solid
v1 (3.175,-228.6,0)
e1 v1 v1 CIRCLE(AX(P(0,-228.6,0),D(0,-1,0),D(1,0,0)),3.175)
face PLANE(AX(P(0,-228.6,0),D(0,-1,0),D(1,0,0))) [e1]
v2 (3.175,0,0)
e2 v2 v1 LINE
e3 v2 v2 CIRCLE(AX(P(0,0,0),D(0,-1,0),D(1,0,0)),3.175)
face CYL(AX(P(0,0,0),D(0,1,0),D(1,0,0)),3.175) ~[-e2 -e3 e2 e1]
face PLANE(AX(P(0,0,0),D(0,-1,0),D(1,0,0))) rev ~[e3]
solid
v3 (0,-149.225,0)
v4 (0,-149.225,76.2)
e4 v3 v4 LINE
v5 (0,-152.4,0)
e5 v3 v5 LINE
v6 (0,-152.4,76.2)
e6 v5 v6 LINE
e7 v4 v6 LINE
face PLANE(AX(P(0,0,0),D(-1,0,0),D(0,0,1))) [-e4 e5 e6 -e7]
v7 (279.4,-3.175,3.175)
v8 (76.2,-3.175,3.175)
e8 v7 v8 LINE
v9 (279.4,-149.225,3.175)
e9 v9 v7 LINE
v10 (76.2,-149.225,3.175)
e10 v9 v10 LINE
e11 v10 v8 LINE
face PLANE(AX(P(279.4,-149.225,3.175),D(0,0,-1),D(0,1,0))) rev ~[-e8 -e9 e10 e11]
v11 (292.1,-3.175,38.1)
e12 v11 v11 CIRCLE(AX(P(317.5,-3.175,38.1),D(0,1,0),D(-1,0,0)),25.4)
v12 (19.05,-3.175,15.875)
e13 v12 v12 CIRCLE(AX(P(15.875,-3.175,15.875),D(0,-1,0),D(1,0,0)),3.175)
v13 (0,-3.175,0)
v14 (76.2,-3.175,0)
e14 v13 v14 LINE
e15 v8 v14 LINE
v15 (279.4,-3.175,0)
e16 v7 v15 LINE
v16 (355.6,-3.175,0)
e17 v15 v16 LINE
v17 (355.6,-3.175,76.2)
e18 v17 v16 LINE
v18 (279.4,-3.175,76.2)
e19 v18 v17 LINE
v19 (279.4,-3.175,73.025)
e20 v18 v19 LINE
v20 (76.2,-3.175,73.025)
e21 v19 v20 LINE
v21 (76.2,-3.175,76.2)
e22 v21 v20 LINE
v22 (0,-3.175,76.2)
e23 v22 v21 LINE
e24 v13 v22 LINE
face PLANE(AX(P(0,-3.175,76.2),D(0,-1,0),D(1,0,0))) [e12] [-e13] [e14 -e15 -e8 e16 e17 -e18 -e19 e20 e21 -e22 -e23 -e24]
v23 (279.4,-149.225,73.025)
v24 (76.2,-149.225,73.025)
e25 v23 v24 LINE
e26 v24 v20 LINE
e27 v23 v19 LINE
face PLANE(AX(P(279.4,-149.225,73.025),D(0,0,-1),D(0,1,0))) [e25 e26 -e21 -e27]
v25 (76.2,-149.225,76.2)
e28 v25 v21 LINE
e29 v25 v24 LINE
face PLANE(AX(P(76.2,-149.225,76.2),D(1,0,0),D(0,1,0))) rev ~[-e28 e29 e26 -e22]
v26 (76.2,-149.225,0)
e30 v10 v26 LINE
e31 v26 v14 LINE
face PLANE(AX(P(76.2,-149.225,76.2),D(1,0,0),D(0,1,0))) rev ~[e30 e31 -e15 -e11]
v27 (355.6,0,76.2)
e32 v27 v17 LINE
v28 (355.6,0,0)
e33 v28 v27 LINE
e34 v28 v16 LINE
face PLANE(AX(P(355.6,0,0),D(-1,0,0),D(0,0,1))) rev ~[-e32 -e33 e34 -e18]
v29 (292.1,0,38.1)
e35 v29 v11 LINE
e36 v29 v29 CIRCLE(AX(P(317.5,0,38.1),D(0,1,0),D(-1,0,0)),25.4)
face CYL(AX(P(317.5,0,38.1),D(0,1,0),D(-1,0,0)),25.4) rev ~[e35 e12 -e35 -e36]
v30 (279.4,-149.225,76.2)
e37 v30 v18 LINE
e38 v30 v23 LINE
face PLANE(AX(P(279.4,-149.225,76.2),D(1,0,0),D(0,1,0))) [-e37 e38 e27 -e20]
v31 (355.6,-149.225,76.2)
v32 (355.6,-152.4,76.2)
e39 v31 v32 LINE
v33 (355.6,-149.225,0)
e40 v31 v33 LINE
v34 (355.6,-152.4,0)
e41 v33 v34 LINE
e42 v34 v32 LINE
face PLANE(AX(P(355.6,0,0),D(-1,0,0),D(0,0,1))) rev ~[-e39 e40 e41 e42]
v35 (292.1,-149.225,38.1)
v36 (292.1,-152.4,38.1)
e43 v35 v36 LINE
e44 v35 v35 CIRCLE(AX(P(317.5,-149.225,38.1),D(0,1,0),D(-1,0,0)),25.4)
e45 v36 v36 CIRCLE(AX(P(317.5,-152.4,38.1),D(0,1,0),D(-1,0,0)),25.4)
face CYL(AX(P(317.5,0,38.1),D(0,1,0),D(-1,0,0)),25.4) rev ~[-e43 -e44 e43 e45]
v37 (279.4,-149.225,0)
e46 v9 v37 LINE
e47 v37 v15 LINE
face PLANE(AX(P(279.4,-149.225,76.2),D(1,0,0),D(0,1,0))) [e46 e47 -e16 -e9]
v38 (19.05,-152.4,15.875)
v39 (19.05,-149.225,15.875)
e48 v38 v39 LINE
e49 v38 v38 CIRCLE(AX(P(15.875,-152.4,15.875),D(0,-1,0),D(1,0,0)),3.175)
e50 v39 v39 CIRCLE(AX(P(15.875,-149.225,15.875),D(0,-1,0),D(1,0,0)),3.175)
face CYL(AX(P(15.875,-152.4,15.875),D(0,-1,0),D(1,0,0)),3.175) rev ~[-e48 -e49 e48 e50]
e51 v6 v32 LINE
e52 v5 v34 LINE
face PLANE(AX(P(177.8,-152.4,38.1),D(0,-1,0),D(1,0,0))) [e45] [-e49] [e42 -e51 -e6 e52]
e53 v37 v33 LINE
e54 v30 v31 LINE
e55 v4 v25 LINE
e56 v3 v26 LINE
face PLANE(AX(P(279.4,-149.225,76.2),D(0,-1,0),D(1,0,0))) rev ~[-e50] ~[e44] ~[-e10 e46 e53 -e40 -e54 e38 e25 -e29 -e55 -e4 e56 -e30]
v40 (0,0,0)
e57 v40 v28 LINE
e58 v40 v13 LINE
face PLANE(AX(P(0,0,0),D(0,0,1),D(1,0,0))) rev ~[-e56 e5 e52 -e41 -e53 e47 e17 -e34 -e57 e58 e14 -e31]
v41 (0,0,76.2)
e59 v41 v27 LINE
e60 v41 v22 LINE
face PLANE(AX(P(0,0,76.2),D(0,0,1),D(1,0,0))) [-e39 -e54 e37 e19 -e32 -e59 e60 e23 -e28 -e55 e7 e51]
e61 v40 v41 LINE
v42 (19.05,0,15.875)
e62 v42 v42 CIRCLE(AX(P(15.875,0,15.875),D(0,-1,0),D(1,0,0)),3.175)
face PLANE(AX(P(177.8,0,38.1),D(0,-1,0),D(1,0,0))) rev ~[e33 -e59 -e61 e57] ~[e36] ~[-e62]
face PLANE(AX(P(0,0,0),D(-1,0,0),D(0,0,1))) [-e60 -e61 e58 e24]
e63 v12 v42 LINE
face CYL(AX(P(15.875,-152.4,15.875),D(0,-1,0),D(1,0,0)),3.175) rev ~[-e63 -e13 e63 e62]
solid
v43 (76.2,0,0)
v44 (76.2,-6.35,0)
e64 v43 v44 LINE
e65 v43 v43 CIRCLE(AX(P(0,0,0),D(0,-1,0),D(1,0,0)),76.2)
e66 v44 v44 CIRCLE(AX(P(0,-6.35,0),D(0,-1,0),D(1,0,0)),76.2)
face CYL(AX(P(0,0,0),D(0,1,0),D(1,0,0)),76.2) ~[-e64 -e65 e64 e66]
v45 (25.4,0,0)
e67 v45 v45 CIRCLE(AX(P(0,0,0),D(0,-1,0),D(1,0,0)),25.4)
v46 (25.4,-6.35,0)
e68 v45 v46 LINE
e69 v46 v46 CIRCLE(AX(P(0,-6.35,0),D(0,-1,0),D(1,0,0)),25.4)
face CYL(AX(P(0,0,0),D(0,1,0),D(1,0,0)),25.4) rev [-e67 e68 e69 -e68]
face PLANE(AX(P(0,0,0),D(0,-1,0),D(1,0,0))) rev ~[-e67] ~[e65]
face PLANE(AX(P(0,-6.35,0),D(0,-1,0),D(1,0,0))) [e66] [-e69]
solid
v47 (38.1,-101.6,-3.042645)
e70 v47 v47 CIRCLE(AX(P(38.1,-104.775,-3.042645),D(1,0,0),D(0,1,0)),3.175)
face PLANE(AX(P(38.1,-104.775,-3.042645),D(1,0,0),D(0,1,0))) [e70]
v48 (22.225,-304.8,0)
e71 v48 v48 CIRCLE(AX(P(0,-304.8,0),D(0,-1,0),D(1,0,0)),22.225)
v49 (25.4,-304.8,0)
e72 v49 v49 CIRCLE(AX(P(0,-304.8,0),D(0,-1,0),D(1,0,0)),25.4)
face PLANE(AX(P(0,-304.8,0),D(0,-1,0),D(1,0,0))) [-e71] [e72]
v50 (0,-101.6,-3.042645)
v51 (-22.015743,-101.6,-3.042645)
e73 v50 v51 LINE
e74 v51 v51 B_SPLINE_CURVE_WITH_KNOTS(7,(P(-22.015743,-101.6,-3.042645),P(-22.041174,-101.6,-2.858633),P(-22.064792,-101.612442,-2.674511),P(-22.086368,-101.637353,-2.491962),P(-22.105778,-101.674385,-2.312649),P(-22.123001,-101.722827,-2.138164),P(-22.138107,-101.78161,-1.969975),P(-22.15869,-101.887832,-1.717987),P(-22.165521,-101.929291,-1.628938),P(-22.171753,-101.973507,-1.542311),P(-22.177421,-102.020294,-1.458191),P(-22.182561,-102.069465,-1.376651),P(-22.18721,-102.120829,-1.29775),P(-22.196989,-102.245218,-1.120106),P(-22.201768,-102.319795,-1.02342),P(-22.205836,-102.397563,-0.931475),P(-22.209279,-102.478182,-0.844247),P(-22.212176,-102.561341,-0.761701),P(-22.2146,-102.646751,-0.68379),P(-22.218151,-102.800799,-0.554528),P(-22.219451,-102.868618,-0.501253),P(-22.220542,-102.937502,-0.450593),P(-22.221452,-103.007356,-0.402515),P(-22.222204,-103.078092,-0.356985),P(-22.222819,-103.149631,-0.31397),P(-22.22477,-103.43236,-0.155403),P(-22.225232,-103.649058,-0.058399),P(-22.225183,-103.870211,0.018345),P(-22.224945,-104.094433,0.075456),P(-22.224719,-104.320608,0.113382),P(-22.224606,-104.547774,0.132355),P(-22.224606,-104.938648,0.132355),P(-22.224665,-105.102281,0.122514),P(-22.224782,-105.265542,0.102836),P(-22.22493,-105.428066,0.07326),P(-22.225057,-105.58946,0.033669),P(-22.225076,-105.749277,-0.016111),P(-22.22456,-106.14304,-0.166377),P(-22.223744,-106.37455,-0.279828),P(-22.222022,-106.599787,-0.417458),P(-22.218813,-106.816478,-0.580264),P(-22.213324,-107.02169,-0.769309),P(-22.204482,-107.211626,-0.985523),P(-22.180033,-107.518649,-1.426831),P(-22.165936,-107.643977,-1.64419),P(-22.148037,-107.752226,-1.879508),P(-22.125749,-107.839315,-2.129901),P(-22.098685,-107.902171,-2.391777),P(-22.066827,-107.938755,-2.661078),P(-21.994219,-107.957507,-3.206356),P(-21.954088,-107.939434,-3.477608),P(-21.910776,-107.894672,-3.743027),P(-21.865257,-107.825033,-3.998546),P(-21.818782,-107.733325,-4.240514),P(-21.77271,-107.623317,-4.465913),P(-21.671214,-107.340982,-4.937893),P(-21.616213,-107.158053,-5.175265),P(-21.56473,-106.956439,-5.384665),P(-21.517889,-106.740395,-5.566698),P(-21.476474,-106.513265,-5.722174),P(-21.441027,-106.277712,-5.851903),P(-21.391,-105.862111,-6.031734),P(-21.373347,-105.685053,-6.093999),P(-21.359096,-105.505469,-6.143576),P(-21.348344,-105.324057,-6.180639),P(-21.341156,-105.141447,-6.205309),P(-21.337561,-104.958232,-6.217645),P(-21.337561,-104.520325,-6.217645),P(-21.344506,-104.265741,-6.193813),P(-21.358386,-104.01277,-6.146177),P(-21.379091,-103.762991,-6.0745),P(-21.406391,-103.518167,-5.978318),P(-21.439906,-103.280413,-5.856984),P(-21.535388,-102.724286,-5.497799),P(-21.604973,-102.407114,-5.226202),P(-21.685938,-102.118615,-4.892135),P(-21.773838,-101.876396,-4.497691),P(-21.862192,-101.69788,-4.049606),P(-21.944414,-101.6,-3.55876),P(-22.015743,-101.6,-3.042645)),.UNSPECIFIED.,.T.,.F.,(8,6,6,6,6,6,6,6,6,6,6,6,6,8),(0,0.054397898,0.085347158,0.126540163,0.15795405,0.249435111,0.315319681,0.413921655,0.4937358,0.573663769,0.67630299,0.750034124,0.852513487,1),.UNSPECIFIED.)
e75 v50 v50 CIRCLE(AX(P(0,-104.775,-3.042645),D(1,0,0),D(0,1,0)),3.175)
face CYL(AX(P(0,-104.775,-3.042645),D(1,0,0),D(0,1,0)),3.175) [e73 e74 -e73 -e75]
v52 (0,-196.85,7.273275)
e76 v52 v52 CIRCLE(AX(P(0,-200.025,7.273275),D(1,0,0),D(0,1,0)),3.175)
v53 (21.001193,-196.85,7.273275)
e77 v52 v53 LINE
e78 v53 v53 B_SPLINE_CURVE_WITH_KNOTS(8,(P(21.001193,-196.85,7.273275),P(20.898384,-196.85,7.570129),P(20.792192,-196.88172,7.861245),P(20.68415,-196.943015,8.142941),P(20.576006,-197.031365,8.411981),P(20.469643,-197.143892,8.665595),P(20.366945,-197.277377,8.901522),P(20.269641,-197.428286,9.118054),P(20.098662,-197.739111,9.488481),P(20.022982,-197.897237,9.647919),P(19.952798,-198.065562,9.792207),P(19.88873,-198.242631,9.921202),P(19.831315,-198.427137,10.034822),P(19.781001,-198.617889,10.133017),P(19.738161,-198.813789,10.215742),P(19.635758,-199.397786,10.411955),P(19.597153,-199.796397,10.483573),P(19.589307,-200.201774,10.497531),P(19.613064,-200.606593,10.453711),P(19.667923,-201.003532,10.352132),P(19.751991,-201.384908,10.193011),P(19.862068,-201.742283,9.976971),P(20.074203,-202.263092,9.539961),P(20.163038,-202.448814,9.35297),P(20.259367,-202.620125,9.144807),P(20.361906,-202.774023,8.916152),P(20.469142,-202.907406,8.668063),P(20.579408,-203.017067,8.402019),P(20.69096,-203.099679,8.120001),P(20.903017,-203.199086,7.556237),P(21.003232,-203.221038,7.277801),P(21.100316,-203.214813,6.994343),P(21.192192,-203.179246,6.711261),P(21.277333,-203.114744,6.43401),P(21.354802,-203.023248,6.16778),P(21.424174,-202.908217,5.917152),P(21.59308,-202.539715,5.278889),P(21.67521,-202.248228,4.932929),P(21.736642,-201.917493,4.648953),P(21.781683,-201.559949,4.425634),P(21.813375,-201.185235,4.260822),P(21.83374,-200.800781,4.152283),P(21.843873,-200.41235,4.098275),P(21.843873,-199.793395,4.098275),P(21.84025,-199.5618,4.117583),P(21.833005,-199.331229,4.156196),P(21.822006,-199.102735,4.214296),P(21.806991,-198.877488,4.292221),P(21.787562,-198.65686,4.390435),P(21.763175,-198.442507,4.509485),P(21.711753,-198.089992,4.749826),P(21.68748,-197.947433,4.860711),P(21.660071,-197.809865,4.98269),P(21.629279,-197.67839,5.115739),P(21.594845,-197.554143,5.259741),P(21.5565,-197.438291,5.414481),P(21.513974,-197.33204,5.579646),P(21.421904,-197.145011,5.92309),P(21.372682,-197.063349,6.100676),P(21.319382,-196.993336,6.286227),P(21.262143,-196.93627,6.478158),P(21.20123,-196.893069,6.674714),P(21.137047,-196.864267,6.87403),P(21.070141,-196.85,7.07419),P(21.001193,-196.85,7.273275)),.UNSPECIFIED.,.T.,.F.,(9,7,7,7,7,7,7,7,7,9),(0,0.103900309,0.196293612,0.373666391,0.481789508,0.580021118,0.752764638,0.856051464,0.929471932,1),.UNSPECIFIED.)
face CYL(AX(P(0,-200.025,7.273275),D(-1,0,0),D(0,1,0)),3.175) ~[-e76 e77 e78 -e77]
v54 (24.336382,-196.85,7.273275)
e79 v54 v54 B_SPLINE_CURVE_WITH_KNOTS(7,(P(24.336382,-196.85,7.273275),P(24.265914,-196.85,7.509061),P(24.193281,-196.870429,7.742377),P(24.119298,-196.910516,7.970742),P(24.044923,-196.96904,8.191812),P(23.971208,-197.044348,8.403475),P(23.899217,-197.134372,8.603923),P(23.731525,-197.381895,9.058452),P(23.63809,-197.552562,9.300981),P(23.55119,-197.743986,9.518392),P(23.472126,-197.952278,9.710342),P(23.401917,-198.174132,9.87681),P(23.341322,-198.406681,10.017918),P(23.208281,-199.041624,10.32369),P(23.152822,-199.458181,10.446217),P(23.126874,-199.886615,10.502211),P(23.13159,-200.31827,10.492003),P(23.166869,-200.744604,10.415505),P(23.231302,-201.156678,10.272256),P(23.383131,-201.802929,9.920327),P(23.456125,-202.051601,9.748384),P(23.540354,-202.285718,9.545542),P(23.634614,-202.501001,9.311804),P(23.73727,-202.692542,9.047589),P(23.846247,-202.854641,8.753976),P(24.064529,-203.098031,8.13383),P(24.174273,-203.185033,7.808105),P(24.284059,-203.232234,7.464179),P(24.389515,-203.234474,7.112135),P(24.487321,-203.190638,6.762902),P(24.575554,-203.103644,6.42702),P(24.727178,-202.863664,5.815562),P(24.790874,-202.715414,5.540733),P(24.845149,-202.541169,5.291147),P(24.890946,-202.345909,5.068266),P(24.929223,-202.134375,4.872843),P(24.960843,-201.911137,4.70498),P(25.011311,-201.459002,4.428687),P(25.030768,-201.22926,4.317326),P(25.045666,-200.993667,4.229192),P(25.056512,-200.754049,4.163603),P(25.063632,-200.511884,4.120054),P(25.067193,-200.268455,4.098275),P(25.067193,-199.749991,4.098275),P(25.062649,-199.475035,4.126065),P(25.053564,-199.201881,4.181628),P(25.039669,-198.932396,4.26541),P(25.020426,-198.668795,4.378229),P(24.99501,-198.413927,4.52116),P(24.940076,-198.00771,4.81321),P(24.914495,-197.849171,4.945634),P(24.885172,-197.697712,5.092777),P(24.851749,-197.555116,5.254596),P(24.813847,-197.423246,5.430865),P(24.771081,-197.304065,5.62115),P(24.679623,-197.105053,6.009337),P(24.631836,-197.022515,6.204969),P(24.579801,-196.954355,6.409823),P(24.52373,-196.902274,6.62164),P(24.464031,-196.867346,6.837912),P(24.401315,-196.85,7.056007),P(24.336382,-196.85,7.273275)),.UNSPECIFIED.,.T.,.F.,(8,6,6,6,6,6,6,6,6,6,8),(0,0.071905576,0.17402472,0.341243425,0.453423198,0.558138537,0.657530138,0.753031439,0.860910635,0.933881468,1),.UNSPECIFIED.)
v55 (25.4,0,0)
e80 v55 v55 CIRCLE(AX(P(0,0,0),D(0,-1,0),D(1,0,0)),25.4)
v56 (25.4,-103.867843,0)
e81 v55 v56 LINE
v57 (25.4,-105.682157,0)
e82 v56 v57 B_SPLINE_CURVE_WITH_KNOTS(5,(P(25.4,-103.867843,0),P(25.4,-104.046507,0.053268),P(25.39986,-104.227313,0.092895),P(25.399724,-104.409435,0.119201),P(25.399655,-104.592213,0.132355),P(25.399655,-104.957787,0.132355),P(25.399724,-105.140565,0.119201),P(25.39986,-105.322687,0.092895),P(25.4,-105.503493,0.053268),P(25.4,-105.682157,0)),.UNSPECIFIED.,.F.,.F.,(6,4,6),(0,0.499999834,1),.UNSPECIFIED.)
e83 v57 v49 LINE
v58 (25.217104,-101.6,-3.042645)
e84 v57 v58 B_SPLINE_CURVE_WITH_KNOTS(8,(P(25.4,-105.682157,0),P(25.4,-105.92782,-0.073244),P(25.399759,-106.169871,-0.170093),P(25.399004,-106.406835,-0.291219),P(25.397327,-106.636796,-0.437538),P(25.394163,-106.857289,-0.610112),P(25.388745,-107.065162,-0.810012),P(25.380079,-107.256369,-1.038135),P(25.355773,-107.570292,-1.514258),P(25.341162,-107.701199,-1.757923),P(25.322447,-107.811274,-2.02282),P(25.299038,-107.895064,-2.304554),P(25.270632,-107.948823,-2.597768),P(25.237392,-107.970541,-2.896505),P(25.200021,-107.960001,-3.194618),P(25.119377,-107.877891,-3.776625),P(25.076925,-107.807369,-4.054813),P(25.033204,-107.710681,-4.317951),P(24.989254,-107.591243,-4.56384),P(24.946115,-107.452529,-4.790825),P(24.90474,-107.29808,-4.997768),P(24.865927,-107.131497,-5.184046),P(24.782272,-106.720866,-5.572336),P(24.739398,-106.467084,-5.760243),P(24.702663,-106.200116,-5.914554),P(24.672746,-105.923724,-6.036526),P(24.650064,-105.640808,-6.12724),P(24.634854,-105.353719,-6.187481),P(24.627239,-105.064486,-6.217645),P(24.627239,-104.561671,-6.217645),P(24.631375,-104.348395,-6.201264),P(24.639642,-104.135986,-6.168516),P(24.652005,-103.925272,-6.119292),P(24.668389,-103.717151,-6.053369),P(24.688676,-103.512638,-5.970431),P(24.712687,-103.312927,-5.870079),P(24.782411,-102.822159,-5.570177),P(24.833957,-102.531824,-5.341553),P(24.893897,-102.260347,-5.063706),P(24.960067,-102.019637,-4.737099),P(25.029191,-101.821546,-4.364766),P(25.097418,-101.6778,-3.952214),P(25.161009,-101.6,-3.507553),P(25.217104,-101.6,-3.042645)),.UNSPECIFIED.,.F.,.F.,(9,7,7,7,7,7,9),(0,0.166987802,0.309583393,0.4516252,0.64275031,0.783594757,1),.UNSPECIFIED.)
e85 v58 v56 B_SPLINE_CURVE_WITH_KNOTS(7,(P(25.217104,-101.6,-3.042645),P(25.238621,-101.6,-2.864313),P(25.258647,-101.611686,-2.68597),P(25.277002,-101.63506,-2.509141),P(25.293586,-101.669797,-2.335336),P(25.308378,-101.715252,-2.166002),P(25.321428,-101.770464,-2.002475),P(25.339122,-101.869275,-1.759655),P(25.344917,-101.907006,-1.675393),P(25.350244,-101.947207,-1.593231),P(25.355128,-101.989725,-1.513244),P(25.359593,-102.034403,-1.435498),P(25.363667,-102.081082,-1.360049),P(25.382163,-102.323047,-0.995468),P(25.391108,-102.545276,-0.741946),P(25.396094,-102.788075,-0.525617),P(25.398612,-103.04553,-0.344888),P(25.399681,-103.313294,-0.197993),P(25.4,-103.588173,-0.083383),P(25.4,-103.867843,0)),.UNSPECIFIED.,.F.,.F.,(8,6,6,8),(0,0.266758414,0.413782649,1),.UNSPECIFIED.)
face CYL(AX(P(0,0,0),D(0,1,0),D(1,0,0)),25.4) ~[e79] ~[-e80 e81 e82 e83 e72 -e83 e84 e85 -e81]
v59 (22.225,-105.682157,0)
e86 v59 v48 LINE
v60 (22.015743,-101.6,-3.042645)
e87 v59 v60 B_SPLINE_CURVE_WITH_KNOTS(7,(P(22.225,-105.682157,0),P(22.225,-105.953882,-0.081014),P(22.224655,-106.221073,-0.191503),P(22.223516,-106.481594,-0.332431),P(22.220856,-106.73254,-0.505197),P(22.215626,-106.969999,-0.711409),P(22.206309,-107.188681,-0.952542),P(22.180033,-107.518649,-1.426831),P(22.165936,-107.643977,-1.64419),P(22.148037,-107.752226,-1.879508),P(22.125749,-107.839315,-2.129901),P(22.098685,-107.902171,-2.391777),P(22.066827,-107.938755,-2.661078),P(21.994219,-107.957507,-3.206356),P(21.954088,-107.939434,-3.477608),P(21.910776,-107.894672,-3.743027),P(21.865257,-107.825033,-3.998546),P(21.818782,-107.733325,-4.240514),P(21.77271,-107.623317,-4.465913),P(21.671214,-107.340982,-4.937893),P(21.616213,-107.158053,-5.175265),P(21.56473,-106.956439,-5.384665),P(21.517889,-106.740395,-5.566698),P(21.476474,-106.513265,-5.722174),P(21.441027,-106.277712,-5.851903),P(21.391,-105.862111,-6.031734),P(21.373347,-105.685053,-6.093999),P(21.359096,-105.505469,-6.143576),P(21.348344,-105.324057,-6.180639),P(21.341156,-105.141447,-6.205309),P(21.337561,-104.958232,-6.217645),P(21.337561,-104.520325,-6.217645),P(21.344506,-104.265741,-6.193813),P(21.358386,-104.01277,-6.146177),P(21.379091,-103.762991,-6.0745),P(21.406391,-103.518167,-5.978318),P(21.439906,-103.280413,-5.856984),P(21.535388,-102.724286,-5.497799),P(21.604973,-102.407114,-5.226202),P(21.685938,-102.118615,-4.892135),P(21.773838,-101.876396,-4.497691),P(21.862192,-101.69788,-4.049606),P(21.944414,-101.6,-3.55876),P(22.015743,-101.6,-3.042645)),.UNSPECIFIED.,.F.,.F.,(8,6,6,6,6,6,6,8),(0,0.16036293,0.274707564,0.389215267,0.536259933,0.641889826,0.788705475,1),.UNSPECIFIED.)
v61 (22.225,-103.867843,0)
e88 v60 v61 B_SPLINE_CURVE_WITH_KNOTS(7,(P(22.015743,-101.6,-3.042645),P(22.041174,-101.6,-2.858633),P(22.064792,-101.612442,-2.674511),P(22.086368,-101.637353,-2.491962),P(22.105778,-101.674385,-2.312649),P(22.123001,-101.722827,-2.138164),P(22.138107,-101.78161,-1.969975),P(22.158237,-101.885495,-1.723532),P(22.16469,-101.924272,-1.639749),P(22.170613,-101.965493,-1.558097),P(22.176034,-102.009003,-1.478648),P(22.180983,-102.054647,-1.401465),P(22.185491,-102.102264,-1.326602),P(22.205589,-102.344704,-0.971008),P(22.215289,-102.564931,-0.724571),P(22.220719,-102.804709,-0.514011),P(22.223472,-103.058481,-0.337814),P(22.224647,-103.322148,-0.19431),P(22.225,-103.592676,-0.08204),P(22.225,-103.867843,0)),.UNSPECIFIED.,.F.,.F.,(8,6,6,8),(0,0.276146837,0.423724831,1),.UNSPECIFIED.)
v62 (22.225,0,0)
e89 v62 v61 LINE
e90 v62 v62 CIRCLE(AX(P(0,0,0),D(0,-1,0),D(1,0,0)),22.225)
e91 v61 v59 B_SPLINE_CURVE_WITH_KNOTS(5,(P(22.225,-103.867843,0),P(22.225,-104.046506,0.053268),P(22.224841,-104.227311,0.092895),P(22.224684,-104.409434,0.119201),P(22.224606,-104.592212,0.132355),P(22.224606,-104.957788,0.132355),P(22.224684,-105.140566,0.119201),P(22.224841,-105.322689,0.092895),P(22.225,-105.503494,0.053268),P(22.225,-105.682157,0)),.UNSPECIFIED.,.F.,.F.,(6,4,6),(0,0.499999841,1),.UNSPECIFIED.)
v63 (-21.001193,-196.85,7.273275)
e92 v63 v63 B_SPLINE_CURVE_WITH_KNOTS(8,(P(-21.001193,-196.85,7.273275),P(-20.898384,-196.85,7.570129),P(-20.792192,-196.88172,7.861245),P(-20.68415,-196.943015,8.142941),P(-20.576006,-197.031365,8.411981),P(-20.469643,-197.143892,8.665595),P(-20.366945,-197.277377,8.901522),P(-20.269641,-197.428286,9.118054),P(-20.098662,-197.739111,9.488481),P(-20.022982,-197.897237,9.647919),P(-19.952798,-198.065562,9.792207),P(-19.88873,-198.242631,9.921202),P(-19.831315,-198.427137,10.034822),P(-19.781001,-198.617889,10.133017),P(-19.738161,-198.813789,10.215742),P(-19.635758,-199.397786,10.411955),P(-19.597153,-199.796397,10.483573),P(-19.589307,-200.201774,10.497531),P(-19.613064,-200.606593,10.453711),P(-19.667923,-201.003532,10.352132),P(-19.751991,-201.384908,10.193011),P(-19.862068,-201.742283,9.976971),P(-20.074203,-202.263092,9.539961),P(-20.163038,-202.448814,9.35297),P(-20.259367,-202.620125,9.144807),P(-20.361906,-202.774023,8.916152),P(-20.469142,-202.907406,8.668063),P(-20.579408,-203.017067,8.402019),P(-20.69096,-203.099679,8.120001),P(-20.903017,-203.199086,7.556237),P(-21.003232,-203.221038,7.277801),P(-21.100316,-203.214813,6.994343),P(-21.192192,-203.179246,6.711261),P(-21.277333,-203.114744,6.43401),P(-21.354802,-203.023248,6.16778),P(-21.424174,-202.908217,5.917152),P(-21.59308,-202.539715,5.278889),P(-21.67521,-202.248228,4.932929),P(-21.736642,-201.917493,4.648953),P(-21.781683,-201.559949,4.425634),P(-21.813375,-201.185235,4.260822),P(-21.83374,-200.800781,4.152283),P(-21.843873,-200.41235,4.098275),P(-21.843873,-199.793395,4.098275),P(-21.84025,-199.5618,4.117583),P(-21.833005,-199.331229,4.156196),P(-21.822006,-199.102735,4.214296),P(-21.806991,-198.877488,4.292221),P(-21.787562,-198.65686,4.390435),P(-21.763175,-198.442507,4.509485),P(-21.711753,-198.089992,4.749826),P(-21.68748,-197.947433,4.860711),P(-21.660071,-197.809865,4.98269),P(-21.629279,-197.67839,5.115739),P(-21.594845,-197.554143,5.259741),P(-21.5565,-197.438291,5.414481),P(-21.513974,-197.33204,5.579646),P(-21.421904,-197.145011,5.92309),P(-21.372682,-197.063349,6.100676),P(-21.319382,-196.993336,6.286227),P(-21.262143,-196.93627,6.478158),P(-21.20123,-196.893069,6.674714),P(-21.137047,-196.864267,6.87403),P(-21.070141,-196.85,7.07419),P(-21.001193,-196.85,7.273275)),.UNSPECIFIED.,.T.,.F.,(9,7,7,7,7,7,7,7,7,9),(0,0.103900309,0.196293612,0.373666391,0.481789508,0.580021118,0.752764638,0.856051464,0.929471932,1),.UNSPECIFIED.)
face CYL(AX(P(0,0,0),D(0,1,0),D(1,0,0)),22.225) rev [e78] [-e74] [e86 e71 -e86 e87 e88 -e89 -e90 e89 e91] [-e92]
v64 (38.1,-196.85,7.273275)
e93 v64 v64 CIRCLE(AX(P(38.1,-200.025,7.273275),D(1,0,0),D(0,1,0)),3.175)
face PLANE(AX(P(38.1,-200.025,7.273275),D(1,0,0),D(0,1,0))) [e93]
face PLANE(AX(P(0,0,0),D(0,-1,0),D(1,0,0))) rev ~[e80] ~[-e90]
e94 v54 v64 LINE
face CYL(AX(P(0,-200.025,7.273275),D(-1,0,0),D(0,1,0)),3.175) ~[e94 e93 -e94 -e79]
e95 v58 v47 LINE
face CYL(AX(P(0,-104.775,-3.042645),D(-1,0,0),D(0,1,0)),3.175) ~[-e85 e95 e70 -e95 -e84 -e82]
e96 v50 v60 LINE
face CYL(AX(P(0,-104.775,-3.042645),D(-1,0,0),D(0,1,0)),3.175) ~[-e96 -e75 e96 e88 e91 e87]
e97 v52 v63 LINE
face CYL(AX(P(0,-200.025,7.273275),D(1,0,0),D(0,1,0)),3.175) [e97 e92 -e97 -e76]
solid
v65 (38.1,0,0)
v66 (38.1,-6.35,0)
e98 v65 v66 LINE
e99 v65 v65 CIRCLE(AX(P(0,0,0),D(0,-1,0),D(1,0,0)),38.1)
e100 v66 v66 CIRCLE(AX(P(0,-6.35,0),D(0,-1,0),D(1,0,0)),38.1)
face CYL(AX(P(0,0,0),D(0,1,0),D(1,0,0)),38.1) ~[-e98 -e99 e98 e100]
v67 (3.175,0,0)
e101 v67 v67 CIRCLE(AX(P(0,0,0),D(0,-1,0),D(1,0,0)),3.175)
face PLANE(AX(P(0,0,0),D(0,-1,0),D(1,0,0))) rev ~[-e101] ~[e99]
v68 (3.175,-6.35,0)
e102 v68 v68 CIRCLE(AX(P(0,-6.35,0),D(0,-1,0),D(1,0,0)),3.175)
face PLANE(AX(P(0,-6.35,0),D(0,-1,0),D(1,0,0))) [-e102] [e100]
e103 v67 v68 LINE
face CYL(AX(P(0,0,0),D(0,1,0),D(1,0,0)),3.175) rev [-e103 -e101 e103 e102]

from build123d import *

# Parameters (mm, degrees)
F0_R          = 38.1
F0_R_2        = 3.175
F1_DEPTH      = 6.35
F2_R          = 25.4
F2_R_2        = 22.225
F3_DEPTH      = 304.8
F4_R          = 3.175
F5_DEPTH      = 38.1
F5_DEPTH_BACK = 22.3250001344
F6_W          = 355.6
F6_H          = 76.2
F7_DEPTH      = 152.4
F8_W          = 76.2
F8_H          = 146.05
F9_DEPTH      = 114.301
F10_W         = 146.05
F10_H         = 69.85
F11_DEPTH     = 317.501
F12_R         = 25.4
F13_DEPTH     = 304.8010001
F14_R         = 3.175
F15_DEPTH     = 152.4010001
F16_R         = 76.2
F16_R_2       = 25.4
F17_DEPTH     = 6.35
F18_R         = 3.175
F19_DEPTH     = 228.6


with BuildPart() as f1:
    # F0 (on Front) → F1 (new body)
    with BuildSketch(Plane.XZ):
        Circle(F0_R)
        Circle(F0_R_2, mode=Mode.SUBTRACT)
    extrude(amount=F1_DEPTH)


with BuildPart() as f3:
    # F2 (on Front) → F3 (new body)
    with BuildSketch(Plane.XZ):
        Circle(F2_R)
        Circle(F2_R_2, mode=Mode.SUBTRACT)
    extrude(amount=F3_DEPTH)

    # F4 (on Right) → F5 (join, two sides)
    with BuildSketch(Plane.YZ) as f5_sk:
        with Locations((-200.025, 7.2732745194)):
            Circle(F4_R)
        with Locations((-104.775, -3.0426453606)):
            Circle(F4_R)
    extrude(amount=F5_DEPTH)
    extrude(f5_sk.sketch, amount=-F5_DEPTH_BACK)


with BuildPart() as f7:
    # F6 (on Front) → F7 (new body)
    with BuildSketch(Plane.XZ):
        with Locations((177.8, 38.1)):
            Rectangle(F6_W, F6_H)
    extrude(amount=F7_DEPTH)

    # F8 (on face) → F9 (cut, through all)
    with BuildSketch(Plane.XY.offset(76.2)):
        with Locations((38.1, -76.2)):
            Rectangle(F8_W, F8_H)
        with Locations((317.5, -76.2)):
            Rectangle(F8_W, F8_H)
    extrude(amount=-F9_DEPTH, mode=Mode.SUBTRACT)

    # F10 (on face) → F11 (cut, through all)
    with BuildSketch(Plane.YZ.offset(279.4)):
        with Locations((-76.2, 38.1)):
            Rectangle(F10_W, F10_H)
    extrude(amount=-F11_DEPTH, mode=Mode.SUBTRACT)

    # F12 (on face) → F13 (cut, through all)
    with BuildSketch(Plane(origin=(0, 0, 0), x_dir=(-1, 0, 0), z_dir=(0, 1, 0))):
        with Locations((-317.5, 38.1)):
            Circle(F12_R)
    extrude(amount=-F13_DEPTH, mode=Mode.SUBTRACT)

    # F14 (on face) → F15 (cut, through all)
    with BuildSketch(Plane.XZ.offset(152.4)):
        with Locations((15.875, 15.875)):
            Circle(F14_R)
    extrude(amount=-F15_DEPTH, mode=Mode.SUBTRACT)


with BuildPart() as f17:
    # F16 (on Front) → F17 (new body)
    with BuildSketch(Plane.XZ):
        Circle(F16_R)
        Circle(F16_R_2, mode=Mode.SUBTRACT)
    extrude(amount=F17_DEPTH)


with BuildPart() as f19:
    # F18 (on Front) → F19 (new body)
    with BuildSketch(Plane.XZ):
        Circle(F18_R)
    extrude(amount=F19_DEPTH)


solid = Compound([f1.part, f3.part, f7.part, f17.part, f19.part])
